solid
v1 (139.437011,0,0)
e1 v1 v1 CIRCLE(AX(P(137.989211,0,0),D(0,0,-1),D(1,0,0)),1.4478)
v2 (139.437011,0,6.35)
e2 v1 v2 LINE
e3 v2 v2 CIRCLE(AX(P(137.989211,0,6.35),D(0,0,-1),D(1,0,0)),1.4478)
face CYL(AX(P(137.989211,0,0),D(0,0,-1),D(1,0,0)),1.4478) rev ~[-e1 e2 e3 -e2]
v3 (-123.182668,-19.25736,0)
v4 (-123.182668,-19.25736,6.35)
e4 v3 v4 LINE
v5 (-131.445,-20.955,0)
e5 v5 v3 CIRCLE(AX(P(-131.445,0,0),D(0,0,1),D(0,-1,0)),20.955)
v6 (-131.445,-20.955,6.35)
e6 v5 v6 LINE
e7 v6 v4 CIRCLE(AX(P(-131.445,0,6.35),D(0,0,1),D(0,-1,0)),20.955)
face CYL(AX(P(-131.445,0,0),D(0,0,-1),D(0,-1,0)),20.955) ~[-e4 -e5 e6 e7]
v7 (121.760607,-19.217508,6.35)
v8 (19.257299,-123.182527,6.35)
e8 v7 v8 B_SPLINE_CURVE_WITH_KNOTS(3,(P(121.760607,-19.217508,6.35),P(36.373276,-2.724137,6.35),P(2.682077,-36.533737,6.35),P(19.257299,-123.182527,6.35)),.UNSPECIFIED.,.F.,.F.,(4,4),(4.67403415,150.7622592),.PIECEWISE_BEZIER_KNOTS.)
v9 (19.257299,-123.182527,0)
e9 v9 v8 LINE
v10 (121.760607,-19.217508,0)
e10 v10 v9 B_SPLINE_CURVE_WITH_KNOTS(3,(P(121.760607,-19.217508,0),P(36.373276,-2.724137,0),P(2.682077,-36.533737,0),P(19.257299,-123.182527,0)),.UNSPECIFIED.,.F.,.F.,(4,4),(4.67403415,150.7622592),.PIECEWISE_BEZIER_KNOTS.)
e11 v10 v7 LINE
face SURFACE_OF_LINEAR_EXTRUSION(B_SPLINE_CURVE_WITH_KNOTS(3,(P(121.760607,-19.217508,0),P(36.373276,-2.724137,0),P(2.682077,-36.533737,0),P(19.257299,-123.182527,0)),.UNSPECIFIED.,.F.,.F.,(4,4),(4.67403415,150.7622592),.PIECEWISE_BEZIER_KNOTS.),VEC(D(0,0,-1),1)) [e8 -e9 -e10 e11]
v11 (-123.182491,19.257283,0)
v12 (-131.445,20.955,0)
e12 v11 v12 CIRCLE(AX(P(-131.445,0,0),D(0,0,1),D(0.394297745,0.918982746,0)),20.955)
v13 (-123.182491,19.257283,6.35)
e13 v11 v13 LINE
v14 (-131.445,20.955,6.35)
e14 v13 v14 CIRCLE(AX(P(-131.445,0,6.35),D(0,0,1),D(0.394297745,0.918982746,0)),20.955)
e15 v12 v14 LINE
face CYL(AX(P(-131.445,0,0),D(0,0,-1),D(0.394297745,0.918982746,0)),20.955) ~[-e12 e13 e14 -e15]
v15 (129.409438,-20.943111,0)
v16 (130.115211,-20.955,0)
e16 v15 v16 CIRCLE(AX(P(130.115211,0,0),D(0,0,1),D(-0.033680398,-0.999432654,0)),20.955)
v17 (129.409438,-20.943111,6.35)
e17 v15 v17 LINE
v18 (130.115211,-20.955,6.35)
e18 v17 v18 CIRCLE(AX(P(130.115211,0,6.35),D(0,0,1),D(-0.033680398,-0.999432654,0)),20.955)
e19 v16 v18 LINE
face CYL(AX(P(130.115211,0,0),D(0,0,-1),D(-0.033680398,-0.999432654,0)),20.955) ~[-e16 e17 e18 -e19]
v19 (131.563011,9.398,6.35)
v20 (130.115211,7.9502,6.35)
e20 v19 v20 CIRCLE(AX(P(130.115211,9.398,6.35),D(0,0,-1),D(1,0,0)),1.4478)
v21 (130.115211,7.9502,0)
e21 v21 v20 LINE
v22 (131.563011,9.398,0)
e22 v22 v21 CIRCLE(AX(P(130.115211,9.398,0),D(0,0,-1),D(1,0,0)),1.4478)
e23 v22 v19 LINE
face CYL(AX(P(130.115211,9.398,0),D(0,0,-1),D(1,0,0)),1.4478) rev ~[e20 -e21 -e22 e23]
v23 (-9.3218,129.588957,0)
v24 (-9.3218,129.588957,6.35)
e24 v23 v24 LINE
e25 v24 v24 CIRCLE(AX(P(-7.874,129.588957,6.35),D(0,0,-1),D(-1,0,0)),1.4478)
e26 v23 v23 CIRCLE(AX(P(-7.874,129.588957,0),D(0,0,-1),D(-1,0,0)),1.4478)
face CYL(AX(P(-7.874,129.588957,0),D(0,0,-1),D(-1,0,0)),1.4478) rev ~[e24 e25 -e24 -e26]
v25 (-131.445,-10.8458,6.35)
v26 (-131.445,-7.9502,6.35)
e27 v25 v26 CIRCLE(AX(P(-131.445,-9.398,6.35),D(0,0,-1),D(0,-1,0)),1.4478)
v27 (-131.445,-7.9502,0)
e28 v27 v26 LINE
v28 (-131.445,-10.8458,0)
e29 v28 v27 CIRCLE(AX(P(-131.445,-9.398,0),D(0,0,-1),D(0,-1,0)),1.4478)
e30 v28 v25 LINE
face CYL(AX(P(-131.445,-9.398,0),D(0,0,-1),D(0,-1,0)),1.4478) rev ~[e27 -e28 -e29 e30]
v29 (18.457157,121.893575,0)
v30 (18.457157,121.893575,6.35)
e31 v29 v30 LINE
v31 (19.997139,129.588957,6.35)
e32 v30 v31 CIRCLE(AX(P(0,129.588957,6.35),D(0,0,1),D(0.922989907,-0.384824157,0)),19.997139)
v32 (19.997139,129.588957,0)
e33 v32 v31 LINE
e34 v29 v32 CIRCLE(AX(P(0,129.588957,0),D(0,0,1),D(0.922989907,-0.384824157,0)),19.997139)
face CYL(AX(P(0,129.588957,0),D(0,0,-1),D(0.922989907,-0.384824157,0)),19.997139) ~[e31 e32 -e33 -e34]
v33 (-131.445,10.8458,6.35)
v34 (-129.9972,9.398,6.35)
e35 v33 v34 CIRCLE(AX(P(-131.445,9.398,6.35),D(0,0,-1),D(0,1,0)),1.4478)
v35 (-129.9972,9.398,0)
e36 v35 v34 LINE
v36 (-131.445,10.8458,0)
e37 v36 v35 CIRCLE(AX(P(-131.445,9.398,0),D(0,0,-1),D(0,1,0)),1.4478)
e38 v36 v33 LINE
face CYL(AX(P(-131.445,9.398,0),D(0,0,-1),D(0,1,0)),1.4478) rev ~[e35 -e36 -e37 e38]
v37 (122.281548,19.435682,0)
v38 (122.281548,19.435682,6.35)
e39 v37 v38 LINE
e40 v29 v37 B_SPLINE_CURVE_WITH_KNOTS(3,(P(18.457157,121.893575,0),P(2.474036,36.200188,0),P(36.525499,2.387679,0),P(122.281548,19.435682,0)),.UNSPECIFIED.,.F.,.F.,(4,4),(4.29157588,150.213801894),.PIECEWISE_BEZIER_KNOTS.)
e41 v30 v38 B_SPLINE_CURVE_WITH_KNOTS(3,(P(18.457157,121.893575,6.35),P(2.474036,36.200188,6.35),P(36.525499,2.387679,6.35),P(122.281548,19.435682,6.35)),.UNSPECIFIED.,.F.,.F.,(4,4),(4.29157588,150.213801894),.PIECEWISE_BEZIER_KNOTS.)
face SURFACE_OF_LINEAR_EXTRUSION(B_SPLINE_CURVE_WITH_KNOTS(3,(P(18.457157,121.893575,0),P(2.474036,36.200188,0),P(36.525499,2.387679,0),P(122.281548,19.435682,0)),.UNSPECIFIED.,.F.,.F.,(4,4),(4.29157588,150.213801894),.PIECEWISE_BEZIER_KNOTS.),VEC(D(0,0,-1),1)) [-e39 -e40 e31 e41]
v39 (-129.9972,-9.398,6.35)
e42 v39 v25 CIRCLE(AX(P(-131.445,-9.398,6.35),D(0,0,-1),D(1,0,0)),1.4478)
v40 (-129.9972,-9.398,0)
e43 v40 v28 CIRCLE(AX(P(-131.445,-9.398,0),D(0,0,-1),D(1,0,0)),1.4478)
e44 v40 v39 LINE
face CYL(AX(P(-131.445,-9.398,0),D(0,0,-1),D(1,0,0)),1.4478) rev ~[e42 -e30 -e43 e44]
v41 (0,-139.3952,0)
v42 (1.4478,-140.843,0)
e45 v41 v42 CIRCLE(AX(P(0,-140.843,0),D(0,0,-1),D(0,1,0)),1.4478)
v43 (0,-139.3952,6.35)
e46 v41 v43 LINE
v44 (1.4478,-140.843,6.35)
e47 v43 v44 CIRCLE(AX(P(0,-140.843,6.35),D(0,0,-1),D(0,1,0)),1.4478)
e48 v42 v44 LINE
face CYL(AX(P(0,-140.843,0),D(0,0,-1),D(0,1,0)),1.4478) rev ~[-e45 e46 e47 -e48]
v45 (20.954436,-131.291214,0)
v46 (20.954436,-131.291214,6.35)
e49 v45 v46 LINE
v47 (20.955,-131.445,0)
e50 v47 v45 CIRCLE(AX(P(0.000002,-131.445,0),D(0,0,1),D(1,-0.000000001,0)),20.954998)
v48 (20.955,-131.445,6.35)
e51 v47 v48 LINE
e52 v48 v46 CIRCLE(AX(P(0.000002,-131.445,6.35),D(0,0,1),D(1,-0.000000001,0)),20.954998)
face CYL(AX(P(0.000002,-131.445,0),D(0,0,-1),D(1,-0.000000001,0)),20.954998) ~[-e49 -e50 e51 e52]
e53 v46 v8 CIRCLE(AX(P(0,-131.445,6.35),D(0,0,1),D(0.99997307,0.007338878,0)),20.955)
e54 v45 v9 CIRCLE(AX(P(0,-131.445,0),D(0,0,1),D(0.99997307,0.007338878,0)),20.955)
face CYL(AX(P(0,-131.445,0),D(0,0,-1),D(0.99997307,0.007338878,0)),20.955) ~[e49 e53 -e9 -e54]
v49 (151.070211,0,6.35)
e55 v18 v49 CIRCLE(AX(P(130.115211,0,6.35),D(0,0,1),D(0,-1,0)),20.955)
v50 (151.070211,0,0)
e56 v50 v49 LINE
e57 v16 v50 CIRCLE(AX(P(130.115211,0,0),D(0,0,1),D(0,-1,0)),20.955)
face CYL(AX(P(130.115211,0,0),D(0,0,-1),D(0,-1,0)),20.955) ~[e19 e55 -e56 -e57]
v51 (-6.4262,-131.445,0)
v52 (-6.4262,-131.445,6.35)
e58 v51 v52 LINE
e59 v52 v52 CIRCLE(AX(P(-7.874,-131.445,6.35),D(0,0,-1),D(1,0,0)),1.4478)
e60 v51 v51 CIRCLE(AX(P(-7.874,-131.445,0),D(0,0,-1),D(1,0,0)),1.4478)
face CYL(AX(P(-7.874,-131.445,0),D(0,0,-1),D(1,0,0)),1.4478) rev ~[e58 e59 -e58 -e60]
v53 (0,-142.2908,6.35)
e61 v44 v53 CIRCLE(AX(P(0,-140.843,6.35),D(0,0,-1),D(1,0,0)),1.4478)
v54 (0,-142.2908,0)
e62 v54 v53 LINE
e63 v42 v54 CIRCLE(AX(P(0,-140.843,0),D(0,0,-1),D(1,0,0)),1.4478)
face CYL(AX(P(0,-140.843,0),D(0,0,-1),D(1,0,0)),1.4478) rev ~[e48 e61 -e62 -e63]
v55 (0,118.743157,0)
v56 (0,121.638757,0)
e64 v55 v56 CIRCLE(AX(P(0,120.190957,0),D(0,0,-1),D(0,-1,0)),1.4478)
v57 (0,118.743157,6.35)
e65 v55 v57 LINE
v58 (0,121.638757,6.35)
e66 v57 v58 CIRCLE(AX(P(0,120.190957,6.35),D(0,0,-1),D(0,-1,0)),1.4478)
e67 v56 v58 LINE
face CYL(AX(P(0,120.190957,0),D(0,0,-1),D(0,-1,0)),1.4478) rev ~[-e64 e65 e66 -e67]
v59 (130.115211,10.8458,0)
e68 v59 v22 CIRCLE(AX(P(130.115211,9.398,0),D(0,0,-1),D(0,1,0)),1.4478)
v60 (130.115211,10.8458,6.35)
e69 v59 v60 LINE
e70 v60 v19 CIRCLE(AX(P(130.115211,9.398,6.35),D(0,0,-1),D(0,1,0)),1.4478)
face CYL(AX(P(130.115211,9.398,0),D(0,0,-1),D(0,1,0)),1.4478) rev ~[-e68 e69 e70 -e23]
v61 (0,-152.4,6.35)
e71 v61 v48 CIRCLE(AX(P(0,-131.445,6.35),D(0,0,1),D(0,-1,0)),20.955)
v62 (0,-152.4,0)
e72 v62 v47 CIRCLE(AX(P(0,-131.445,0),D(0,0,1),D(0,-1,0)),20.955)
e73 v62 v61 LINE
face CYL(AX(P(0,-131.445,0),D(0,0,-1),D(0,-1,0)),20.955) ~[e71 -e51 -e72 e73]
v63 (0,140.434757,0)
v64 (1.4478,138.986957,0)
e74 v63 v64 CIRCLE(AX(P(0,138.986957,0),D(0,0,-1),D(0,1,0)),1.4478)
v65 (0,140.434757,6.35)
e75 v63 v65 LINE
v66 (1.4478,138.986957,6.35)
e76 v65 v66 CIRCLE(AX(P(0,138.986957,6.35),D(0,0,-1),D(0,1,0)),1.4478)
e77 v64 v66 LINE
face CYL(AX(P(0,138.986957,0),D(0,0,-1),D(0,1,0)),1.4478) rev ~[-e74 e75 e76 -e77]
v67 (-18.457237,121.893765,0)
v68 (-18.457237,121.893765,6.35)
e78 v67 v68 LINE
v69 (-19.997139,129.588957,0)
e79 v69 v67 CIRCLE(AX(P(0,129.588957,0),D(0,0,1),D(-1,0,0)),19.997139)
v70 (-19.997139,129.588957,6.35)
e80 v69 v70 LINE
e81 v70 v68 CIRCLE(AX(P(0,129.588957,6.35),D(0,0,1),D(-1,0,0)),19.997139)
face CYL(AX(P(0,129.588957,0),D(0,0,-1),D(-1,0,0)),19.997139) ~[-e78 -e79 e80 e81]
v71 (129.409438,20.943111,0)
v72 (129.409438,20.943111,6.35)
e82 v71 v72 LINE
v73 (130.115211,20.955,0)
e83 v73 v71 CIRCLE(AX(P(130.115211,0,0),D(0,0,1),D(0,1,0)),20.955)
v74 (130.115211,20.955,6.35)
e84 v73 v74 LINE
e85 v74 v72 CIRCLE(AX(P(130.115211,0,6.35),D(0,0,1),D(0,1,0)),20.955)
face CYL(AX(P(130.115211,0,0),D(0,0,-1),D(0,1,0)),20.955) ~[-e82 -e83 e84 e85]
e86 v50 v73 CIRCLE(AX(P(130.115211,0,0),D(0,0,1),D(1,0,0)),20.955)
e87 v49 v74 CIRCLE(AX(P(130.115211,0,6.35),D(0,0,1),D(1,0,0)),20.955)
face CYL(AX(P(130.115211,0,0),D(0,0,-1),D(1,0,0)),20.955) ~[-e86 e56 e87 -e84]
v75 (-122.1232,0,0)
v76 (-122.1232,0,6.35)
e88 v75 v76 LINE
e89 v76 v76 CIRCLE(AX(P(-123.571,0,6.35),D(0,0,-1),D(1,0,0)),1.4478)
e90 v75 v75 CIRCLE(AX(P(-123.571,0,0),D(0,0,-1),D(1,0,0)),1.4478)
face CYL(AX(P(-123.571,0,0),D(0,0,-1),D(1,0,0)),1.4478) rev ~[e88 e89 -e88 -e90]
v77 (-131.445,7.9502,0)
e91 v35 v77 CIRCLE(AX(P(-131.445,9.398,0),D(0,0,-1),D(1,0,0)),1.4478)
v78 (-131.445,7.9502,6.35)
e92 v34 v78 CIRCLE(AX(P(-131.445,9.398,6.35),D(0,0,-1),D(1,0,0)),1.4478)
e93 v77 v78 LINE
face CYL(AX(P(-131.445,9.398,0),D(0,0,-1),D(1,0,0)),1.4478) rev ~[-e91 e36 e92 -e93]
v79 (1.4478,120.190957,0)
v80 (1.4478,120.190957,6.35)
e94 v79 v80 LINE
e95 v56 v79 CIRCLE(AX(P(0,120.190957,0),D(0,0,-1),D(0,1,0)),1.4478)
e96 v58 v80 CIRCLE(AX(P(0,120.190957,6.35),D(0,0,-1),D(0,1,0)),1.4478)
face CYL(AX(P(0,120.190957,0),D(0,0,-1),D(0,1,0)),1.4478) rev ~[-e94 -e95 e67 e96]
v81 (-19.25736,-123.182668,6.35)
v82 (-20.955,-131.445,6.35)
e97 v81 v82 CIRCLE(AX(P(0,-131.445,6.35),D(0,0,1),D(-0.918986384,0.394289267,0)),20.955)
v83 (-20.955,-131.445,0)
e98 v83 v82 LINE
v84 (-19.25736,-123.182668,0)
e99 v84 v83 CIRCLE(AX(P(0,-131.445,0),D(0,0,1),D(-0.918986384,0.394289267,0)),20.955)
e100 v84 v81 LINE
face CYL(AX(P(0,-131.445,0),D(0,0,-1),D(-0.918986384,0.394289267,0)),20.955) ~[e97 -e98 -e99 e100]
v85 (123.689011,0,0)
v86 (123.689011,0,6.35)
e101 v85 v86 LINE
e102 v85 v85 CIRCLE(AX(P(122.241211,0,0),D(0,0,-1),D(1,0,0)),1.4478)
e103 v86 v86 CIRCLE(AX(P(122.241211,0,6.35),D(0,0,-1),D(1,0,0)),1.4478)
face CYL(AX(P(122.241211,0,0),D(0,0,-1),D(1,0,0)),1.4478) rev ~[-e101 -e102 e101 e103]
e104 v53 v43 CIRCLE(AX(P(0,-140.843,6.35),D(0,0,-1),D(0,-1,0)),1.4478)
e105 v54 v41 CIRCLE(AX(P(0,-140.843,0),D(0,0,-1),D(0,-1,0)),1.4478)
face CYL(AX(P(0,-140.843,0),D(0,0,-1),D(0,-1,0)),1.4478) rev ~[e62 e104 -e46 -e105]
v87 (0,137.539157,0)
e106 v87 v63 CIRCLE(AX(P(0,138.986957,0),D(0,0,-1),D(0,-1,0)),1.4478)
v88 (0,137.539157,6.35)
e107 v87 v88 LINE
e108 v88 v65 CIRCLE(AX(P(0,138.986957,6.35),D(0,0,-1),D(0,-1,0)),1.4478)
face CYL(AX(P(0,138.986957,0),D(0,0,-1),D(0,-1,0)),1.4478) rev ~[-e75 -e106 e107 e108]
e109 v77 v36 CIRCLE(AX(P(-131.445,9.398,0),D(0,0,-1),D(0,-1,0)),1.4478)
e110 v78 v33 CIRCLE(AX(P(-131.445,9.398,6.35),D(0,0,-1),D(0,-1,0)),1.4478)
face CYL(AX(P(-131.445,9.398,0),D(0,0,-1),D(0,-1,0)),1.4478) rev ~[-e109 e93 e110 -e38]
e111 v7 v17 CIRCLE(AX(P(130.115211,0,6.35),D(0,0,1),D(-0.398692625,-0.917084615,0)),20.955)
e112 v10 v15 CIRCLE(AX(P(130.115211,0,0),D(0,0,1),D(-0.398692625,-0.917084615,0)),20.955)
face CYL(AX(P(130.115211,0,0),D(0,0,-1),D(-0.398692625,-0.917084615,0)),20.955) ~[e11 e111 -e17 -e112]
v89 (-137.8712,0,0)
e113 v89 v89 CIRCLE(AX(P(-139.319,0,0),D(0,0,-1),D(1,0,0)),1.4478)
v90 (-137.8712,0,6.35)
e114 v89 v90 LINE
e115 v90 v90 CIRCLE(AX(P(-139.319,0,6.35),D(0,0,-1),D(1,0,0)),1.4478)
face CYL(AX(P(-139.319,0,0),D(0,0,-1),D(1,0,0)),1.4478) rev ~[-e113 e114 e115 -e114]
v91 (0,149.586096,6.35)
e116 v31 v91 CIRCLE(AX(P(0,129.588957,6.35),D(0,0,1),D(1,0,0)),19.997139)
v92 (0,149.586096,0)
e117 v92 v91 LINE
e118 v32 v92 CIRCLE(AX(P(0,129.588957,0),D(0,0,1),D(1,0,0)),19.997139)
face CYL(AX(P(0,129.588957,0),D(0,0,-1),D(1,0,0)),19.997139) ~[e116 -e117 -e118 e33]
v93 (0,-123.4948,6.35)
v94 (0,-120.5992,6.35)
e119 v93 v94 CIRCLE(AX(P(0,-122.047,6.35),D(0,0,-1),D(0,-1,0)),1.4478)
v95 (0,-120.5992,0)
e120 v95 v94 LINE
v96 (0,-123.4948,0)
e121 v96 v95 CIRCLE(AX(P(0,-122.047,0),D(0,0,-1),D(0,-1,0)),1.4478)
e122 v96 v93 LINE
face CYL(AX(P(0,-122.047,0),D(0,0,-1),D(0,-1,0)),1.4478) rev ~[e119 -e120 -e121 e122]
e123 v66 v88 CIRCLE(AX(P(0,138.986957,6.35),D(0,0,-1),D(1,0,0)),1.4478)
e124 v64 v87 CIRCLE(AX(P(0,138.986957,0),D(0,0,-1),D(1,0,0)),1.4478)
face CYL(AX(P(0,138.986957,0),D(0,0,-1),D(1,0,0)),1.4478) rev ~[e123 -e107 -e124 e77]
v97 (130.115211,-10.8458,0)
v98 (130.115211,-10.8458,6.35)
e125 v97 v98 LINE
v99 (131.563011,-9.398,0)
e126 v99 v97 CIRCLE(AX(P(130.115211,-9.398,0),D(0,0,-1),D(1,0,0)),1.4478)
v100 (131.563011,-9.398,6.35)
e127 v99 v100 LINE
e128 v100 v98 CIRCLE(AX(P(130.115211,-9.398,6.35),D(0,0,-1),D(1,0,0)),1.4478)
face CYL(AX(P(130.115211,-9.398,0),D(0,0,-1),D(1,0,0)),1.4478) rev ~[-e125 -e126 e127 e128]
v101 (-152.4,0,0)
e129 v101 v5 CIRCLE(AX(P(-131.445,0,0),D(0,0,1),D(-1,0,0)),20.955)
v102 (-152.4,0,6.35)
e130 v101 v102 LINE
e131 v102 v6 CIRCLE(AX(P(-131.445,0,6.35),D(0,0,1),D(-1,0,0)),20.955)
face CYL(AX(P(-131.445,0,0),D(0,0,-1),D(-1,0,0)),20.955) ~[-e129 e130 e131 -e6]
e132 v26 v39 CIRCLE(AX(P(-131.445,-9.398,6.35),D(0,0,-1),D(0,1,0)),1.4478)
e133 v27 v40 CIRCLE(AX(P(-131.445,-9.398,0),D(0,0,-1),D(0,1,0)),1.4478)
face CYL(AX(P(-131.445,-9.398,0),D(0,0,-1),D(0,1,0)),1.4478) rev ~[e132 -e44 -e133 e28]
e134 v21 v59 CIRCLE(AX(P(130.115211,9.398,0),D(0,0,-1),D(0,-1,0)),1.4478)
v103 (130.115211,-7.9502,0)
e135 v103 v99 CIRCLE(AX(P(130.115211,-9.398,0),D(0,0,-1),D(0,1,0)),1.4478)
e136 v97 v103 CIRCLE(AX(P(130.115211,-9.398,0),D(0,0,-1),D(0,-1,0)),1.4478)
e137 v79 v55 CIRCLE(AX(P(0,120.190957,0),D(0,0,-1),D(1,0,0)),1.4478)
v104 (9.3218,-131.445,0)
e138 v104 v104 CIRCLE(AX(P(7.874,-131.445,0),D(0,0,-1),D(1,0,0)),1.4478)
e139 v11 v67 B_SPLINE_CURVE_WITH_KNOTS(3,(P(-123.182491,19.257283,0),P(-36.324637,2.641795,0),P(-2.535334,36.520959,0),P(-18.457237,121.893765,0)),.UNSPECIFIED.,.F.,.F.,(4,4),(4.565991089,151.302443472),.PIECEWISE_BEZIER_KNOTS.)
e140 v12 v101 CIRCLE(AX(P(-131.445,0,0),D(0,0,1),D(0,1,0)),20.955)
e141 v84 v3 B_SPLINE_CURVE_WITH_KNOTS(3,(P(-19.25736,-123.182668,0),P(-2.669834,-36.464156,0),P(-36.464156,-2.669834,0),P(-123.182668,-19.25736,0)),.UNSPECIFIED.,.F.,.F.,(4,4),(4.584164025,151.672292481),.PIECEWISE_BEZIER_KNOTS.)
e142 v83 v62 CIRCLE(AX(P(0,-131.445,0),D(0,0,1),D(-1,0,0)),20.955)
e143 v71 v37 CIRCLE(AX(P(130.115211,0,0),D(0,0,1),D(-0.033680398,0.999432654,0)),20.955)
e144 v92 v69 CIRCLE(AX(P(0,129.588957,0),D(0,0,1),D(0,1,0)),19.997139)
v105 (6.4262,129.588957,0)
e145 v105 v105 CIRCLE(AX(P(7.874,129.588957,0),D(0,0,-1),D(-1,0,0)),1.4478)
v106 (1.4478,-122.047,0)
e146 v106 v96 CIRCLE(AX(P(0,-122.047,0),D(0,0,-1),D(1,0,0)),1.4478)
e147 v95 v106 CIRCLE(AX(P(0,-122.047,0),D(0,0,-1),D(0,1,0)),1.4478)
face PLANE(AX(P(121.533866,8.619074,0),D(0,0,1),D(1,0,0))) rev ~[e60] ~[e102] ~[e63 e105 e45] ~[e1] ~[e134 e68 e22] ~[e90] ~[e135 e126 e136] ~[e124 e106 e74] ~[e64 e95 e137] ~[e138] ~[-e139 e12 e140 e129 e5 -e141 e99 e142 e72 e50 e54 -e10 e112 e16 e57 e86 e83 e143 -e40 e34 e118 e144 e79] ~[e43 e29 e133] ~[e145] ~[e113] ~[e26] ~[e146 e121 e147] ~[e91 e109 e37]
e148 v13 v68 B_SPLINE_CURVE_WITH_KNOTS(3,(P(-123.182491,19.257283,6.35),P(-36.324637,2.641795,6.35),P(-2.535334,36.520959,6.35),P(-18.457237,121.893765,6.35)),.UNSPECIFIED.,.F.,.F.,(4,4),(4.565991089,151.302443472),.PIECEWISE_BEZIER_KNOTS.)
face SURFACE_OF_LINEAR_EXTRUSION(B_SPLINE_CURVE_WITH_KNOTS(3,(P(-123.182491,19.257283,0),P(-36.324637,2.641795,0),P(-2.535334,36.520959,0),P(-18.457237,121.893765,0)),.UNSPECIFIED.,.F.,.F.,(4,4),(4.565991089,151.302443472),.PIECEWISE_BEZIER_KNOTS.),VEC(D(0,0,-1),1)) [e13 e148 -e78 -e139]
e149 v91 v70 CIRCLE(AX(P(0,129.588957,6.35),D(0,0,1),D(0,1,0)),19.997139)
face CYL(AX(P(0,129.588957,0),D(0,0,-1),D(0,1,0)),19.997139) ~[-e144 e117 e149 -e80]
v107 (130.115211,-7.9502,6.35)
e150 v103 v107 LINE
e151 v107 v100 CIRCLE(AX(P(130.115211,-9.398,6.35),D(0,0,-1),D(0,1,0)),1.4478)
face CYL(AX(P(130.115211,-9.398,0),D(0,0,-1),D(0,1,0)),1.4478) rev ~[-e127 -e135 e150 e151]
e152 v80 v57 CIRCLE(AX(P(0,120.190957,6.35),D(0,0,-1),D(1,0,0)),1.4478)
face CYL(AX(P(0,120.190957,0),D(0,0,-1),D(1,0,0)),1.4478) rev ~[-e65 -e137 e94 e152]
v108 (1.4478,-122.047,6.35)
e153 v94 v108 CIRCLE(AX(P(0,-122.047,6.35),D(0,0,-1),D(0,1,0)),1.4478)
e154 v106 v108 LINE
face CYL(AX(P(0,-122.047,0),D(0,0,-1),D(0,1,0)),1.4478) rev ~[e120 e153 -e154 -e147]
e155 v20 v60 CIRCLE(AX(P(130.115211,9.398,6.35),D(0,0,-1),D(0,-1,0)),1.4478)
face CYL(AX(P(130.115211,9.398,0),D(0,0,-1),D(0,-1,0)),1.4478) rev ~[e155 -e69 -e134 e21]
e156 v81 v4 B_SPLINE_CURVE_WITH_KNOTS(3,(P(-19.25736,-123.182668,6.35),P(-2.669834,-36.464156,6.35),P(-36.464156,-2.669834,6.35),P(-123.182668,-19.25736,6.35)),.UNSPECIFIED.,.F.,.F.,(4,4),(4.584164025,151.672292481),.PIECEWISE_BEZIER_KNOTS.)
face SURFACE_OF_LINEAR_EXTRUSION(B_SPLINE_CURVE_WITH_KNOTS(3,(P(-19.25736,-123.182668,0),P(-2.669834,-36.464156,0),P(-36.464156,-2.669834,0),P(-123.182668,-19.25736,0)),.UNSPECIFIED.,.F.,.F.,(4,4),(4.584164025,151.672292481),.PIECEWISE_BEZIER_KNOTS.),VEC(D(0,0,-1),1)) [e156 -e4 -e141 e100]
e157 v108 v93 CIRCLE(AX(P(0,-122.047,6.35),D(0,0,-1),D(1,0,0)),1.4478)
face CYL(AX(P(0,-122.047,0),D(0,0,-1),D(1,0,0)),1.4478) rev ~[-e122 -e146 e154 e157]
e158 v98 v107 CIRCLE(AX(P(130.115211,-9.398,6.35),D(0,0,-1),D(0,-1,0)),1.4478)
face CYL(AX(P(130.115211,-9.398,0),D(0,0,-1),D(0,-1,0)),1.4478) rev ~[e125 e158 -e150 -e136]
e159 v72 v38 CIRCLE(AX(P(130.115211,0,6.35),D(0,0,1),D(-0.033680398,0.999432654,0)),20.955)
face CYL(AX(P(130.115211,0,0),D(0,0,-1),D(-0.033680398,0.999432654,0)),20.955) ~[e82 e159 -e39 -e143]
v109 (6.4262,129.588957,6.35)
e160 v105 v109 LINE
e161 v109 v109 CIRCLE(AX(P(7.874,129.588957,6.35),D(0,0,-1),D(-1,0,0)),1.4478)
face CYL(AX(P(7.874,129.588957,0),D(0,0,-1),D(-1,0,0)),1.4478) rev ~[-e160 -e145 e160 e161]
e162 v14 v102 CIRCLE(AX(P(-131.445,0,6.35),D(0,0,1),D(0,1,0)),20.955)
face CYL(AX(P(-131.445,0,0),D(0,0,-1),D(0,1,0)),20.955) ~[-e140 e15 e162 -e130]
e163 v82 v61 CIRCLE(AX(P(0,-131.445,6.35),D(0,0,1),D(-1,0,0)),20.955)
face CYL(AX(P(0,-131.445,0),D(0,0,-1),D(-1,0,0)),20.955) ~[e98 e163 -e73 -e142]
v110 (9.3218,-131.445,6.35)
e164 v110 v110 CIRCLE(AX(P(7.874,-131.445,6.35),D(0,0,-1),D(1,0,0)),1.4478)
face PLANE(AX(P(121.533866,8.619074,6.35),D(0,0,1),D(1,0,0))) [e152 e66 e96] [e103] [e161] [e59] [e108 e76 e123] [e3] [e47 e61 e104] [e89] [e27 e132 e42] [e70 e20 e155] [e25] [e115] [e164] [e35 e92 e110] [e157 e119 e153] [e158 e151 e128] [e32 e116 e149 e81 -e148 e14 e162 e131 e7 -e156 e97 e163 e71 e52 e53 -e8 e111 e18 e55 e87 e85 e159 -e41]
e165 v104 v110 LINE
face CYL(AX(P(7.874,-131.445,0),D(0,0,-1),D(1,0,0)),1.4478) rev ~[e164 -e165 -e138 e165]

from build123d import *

# Parameters (mm, degrees)
F1_DEPTH = 6.35


with BuildPart() as f1:
    # F0 (on Top) → F1 (new body)
    with BuildSketch(Plane.XY):
        with BuildLine():
            ThreePointArc((120.79341101, 0), (122.24121101, 1.4478), (123.68901101, 0))
            Line((123.68901101, 0), (130.11521101, 0))
            Line((130.11521101, 0), (130.11521101, 7.9502))
            ThreePointArc((130.11521101, 7.9502), (128.66741101, 9.398), (130.11521101, 10.8458))
            Line((130.11521101, 10.8458), (130.11521101, 20.955))
            Line((130.11521101, 20.955), (129.4094382775, 20.9431112744))
            add(Edge.make_bspline(
                [(122.2815481936, 19.4356824393), (124.619083935, 19.9003764029), (126.9950360223, 20.4028595696), (129.4094382775, 20.9431112744)],
                knots=[150.2138018938, 150.2138018938, 150.2138018938, 150.2138018938, 154.1913454475, 154.1913454475, 154.1913454475, 154.1913454475], degree=3))
            ThreePointArc((122.2815481936, 19.4356824393), (112.7476200815, 11.7251358347), (109.16021101, 0))
            Line((109.16021101, 0), (120.79341101, 0))
        make_face()
        with BuildLine():
            Line((130.11521101, 0), (123.68901101, 0))
            ThreePointArc((123.68901101, 0), (122.24121101, -1.4478), (120.79341101, 0))
            Line((120.79341101, 0), (109.16021101, 0))
            ThreePointArc((109.16021101, 0), (112.5911882011, -11.4900239162), (121.7606070581, -19.2175081061))
            add(Edge.make_bspline(
                [(130.11521101, -20.955), (127.2773928384, -20.3243985565), (124.4925404628, -19.7452069036), (121.7606070581, -19.2175081061)],
                knots=[0, 0, 0, 0, 4.67403415, 4.67403415, 4.67403415, 4.67403415], degree=3))
            Line((130.11521101, -20.955), (130.11521101, -10.8458))
            ThreePointArc((130.11521101, -10.8458), (128.66741101, -9.398), (130.11521101, -7.9502))
            Line((130.11521101, -7.9502), (130.11521101, 0))
        make_face()
        with BuildLine():
            Line((130.11521101, 7.9502), (130.11521101, 0))
            Line((130.11521101, 0), (136.54141101, 0))
            ThreePointArc((136.54141101, 0), (137.98921101, 1.4478), (139.43701101, 0))
            Line((139.43701101, 0), (151.07021101, 0))
            ThreePointArc((151.07021101, 0), (144.9326336097, 14.8174225998), (130.11521101, 20.955))
            Line((130.11521101, 20.955), (130.11521101, 10.8458))
            ThreePointArc((130.11521101, 10.8458), (131.1389602078, 10.4217491978), (131.56301101, 9.398))
            ThreePointArc((131.56301101, 9.398), (131.1389602078, 8.3742508022), (130.11521101, 7.9502))
        make_face()
        with BuildLine():
            Line((136.54141101, 0), (130.11521101, 0))
            Line((130.11521101, 0), (130.11521101, -7.9502))
            ThreePointArc((130.11521101, -7.9502), (131.1389602078, -8.3742508022), (131.56301101, -9.398))
            ThreePointArc((131.56301101, -9.398), (131.1389602078, -10.4217491978), (130.11521101, -10.8458))
            Line((130.11521101, -10.8458), (130.11521101, -20.955))
            ThreePointArc((130.11521101, -20.955), (144.9326336097, -14.8174225998), (151.07021101, 0))
            Line((151.07021101, 0), (139.43701101, 0))
            ThreePointArc((139.43701101, 0), (137.98921101, -1.4478), (136.54141101, 0))
        make_face()
        with BuildLine():
            ThreePointArc((121.7606070581, -19.2175081061), (112.5911882011, -11.4900239162), (109.16021101, 0))
            ThreePointArc((109.16021101, 0), (112.7476200815, 11.7251358347), (122.2815481936, 19.4356824393))
            add(Edge.make_bspline(
                [(18.4571573957, 121.8935747296), (2.4740359892, 36.2001880799), (36.5254994756, 2.3876786479), (122.2815481936, 19.4356824393)],
                knots=[4.2915758799, 4.2915758799, 4.2915758799, 4.2915758799, 150.2138018938, 150.2138018938, 150.2138018938, 150.2138018938], degree=3))
            ThreePointArc((18.4571573957, 121.8935747296), (11.0905351489, 112.9490771865), (0, 109.5918179271))
            ThreePointArc((0, 109.5918179271), (-11.0906209119, 112.9491343482), (-18.4572367199, 121.8937649891))
            add(Edge.make_bspline(
                [(-123.1824907543, 19.2572834524), (-36.3246371653, 2.6417946871), (-2.5353340794, 36.5209589531), (-18.4572367199, 121.8937649891)],
                knots=[4.5659910886, 4.5659910886, 4.5659910886, 4.5659910886, 151.3024434717, 151.3024434717, 151.3024434717, 151.3024434717], degree=3))
            ThreePointArc((-123.1824907543, 19.2572834524), (-113.9485302669, 11.5319370393), (-110.49, 0))
            ThreePointArc((-110.49, 0), (-113.94858346, -11.5320177445), (-123.1826684094, -19.2573596759))
            add(Edge.make_bspline(
                [(-19.2573596759, -123.1826684094), (-2.6698341407, -36.4641564975), (-36.4641564975, -2.6698341407), (-123.1826684094, -19.2573596759)],
                knots=[4.5841640255, 4.5841640255, 4.5841640255, 4.5841640255, 151.6722924811, 151.6722924811, 151.6722924811, 151.6722924811], degree=3))
            ThreePointArc((-19.2573596759, -123.1826684094), (-19.1477552143, -122.9317459069), (-19.0348814104, -122.6822769818))
            ThreePointArc((-19.0348814104, -122.6822769818), (-11.3024148781, -113.7993930985), (0, -110.49))
            ThreePointArc((0, -110.49), (11.531953589, -113.9485411748), (19.2572990832, -123.1825271848))
            add(Edge.make_bspline(
                [(121.7606070581, -19.2175081061), (36.373275849, -2.7241368086), (2.682076988, -36.5337366576), (19.2572990832, -123.1825271848)],
                knots=[4.67403415, 4.67403415, 4.67403415, 4.67403415, 150.7622591999, 150.7622591999, 150.7622591999, 150.7622591999], degree=3))
        make_face()
        with BuildLine():
            ThreePointArc((129.4094382775, 20.9431112744), (125.7794786271, 20.5015474953), (122.2815481936, 19.4356824393))
            add(Edge.make_bspline(
                [(122.2815481936, 19.4356824393), (124.619083935, 19.9003764029), (126.9950360223, 20.4028595696), (129.4094382775, 20.9431112744)],
                knots=[150.2138018938, 150.2138018938, 150.2138018938, 150.2138018938, 154.1913454475, 154.1913454475, 154.1913454475, 154.1913454475], degree=3))
        make_face()
        with BuildLine():
            add(Edge.make_bspline(
                [(130.11521101, -20.955), (127.2773928384, -20.3243985565), (124.4925404628, -19.7452069036), (121.7606070581, -19.2175081061)],
                knots=[0, 0, 0, 0, 4.67403415, 4.67403415, 4.67403415, 4.67403415], degree=3))
            ThreePointArc((121.7606070581, -19.2175081061), (125.5035916644, -20.4412571045), (129.4094382775, -20.9431112744))
            Line((129.4094382775, -20.9431112744), (130.11521101, -20.955))
        make_face()
        with BuildLine():
            ThreePointArc((130.11521101, 20.955), (129.762274581, 20.9520276078), (129.4094382775, 20.9431112744))
            Line((129.4094382775, 20.9431112744), (130.11521101, 20.955))
        make_face()
        with BuildLine():
            add(Edge.make_bspline(
                [(19.9971389232, 129.5889568502), (19.4405626846, 126.9789378392), (18.9272213482, 124.4138191177), (18.4571573957, 121.8935747296)],
                knots=[0, 0, 0, 0, 4.2915758799, 4.2915758799, 4.2915758799, 4.2915758799], degree=3))
            ThreePointArc((18.4571573957, 121.8935747296), (19.6083643591, 125.6649777127), (19.9971389232, 129.5889568502))
        make_face()
        with BuildLine():
            ThreePointArc((0, 109.5918179271), (11.0905351489, 112.9490771865), (18.4571573957, 121.8935747296))
            add(Edge.make_bspline(
                [(19.9971389232, 129.5889568502), (19.4405626846, 126.9789378392), (18.9272213482, 124.4138191177), (18.4571573957, 121.8935747296)],
                knots=[0, 0, 0, 0, 4.2915758799, 4.2915758799, 4.2915758799, 4.2915758799], degree=3))
            Line((19.9971389232, 129.5889568502), (9.3218, 129.5889568502))
            ThreePointArc((9.3218, 129.5889568502), (7.874, 128.1411568502), (6.4262, 129.5889568502))
            Line((6.4262, 129.5889568502), (0, 129.5889568502))
            Line((0, 129.5889568502), (0, 121.6387568502))
            ThreePointArc((0, 121.6387568502), (1.0237491978, 121.214706048), (1.4478, 120.1909568502))
            ThreePointArc((1.4478, 120.1909568502), (1.0237491978, 119.1672076524), (0, 118.7431568502))
            Line((0, 118.7431568502), (0, 109.5918179271))
        make_face()
        with BuildLine():
            Line((130.11521101, -20.955), (129.4094382775, -20.9431112744))
            ThreePointArc((129.4094382775, -20.9431112744), (129.762274581, -20.9520276078), (130.11521101, -20.955))
        make_face()
        with BuildLine():
            add(Edge.make_bspline(
                [(19.2572990832, -123.1825271848), (19.7743085213, -125.8852506988), (20.3402232894, -128.6393826482), (20.955, -131.445)],
                knots=[150.7622591999, 150.7622591999, 150.7622591999, 150.7622591999, 155.3190000217, 155.3190000217, 155.3190000217, 155.3190000217], degree=3))
            ThreePointArc((19.2572990832, -123.1825271848), (11.531953589, -113.9485411748), (0, -110.49))
            Line((0, -110.49), (0, -120.5992))
            ThreePointArc((0, -120.5992), (1.0237491978, -121.0232508022), (1.4478, -122.047))
            ThreePointArc((1.4478, -122.047), (1.0237491978, -123.0707491978), (0, -123.4948))
            Line((0, -123.4948), (0, -131.445))
            Line((0, -131.445), (6.4262, -131.445))
            ThreePointArc((6.4262, -131.445), (7.874, -129.9972), (9.3218, -131.445))
            Line((9.3218, -131.445), (20.955, -131.445))
        make_face()
        with BuildLine():
            ThreePointArc((20.9544356834, -131.2912138119), (20.5105729549, -127.1521661967), (19.2572990832, -123.1825271848))
            add(Edge.make_bspline(
                [(19.2572990832, -123.1825271848), (19.7743085213, -125.8852506988), (20.3402232894, -128.6393826482), (20.955, -131.445)],
                knots=[150.7622591999, 150.7622591999, 150.7622591999, 150.7622591999, 155.3190000217, 155.3190000217, 155.3190000217, 155.3190000217], degree=3))
            Line((20.955, -131.445), (20.9544356834, -131.2912138119))
        make_face()
        with BuildLine():
            ThreePointArc((-18.4572367199, 121.8937649891), (-11.0906209119, 112.9491343482), (0, 109.5918179271))
            Line((0, 109.5918179271), (0, 118.7431568502))
            ThreePointArc((0, 118.7431568502), (-1.4478, 120.1909568502), (0, 121.6387568502))
            Line((0, 121.6387568502), (0, 129.5889568502))
            Line((0, 129.5889568502), (-6.4262, 129.5889568502))
            ThreePointArc((-6.4262, 129.5889568502), (-7.874, 128.1411568502), (-9.3218, 129.5889568502))
            Line((-9.3218, 129.5889568502), (-19.9971389232, 129.5889568502))
            add(Edge.make_bspline(
                [(-18.4572367199, 121.8937649891), (-18.927247149, 124.4139480419), (-19.4405766715, 126.9790034296), (-19.9971389232, 129.5889568502)],
                knots=[151.3024434717, 151.3024434717, 151.3024434717, 151.3024434717, 155.6340654212, 155.6340654212, 155.6340654212, 155.6340654212], degree=3))
        make_face()
        with BuildLine():
            Line((9.3218, 129.5889568502), (19.9971389232, 129.5889568502))
            ThreePointArc((19.9971389232, 129.5889568502), (14.1401125369, 143.7290693871), (0, 149.5860957734))
            Line((0, 149.5860957734), (0, 140.4347568502))
            ThreePointArc((0, 140.4347568502), (1.0237491978, 140.010706048), (1.4478, 138.9869568502))
            ThreePointArc((1.4478, 138.9869568502), (1.0237491978, 137.9632076524), (0, 137.5391568502))
            Line((0, 137.5391568502), (0, 129.5889568502))
            Line((0, 129.5889568502), (6.4262, 129.5889568502))
            ThreePointArc((6.4262, 129.5889568502), (7.874, 131.0367568502), (9.3218, 129.5889568502))
        make_face()
        with BuildLine():
            ThreePointArc((20.955, -131.445), (20.9548589204, -131.3681063883), (20.9544356834, -131.2912138119))
            Line((20.9544356834, -131.2912138119), (20.955, -131.445))
        make_face()
        with BuildLine():
            Line((0, -120.5992), (0, -110.49))
            ThreePointArc((0, -110.49), (-11.3024148781, -113.7993930985), (-19.0348814104, -122.6822769818))
            Line((-19.0348814104, -122.6822769818), (-20.955, -131.445))
            Line((-20.955, -131.445), (-9.3218, -131.445))
            ThreePointArc((-9.3218, -131.445), (-7.874, -129.9972), (-6.4262, -131.445))
            Line((-6.4262, -131.445), (0, -131.445))
            Line((0, -131.445), (0, -123.4948))
            ThreePointArc((0, -123.4948), (-1.4478, -122.047), (0, -120.5992))
        make_face()
        with BuildLine():
            ThreePointArc((0, -152.4), (14.8174225998, -146.2624225998), (20.955, -131.445))
            Line((20.955, -131.445), (9.3218, -131.445))
            ThreePointArc((9.3218, -131.445), (7.874, -132.8928), (6.4262, -131.445))
            Line((6.4262, -131.445), (0, -131.445))
            Line((0, -131.445), (0, -139.3952))
            ThreePointArc((0, -139.3952), (1.0237491978, -139.8192508022), (1.4478, -140.843))
            ThreePointArc((1.4478, -140.843), (1.0237491978, -141.8667491978), (0, -142.2908))
            Line((0, -142.2908), (0, -152.4))
        make_face()
        with BuildLine():
            ThreePointArc((-19.9971389232, 129.5889568502), (-19.6083845833, 125.6650787757), (-18.4572367199, 121.8937649891))
            add(Edge.make_bspline(
                [(-18.4572367199, 121.8937649891), (-18.927247149, 124.4139480419), (-19.4405766715, 126.9790034296), (-19.9971389232, 129.5889568502)],
                knots=[151.3024434717, 151.3024434717, 151.3024434717, 151.3024434717, 155.6340654212, 155.6340654212, 155.6340654212, 155.6340654212], degree=3))
        make_face()
        with BuildLine():
            Line((0, 140.4347568502), (0, 149.5860957734))
            ThreePointArc((0, 149.5860957734), (-14.1401125369, 143.7290693871), (-19.9971389232, 129.5889568502))
            Line((-19.9971389232, 129.5889568502), (-9.3218, 129.5889568502))
            ThreePointArc((-9.3218, 129.5889568502), (-7.874, 131.0367568502), (-6.4262, 129.5889568502))
            Line((-6.4262, 129.5889568502), (0, 129.5889568502))
            Line((0, 129.5889568502), (0, 137.5391568502))
            ThreePointArc((0, 137.5391568502), (-1.4478, 138.9869568502), (0, 140.4347568502))
        make_face()
        with BuildLine():
            Line((-20.955, -131.445), (-19.0348814104, -122.6822769818))
            ThreePointArc((-19.0348814104, -122.6822769818), (-19.1477552143, -122.9317459069), (-19.2573596759, -123.1826684094))
            add(Edge.make_bspline(
                [(-20.955, -131.445), (-20.3402339974, -128.6394315152), (-19.774328235, -125.8853466393), (-19.2573596759, -123.1826684094)],
                knots=[0, 0, 0, 0, 4.5841640255, 4.5841640255, 4.5841640255, 4.5841640255], degree=3))
        make_face()
        with BuildLine():
            ThreePointArc((-20.955, -131.445), (-14.8174225998, -146.2624225998), (0, -152.4))
            Line((0, -152.4), (0, -142.2908))
            ThreePointArc((0, -142.2908), (-1.4478, -140.843), (0, -139.3952))
            Line((0, -139.3952), (0, -131.445))
            Line((0, -131.445), (-6.4262, -131.445))
            ThreePointArc((-6.4262, -131.445), (-7.874, -132.8928), (-9.3218, -131.445))
            Line((-9.3218, -131.445), (-20.955, -131.445))
        make_face()
        with BuildLine():
            add(Edge.make_bspline(
                [(-131.445, 20.955), (-128.6393784119, 20.3402223612), (-125.8852423816, 19.7743068123), (-123.1824907543, 19.2572834524)],
                knots=[0, 0, 0, 0, 4.5659910886, 4.5659910886, 4.5659910886, 4.5659910886], degree=3))
            ThreePointArc((-123.1824907543, 19.2572834524), (-127.2274384856, 20.5261832758), (-131.445, 20.955))
        make_face()
        with BuildLine():
            ThreePointArc((-110.49, 0), (-113.9485302669, 11.5319370393), (-123.1824907543, 19.2572834524))
            add(Edge.make_bspline(
                [(-131.445, 20.955), (-128.6393784119, 20.3402223612), (-125.8852423816, 19.7743068123), (-123.1824907543, 19.2572834524)],
                knots=[0, 0, 0, 0, 4.5659910886, 4.5659910886, 4.5659910886, 4.5659910886], degree=3))
            Line((-131.445, 20.955), (-131.445, 10.8458))
            ThreePointArc((-131.445, 10.8458), (-130.4212508022, 10.4217491978), (-129.9972, 9.398))
            ThreePointArc((-129.9972, 9.398), (-130.4212508022, 8.3742508022), (-131.445, 7.9502))
            Line((-131.445, 7.9502), (-131.445, 0))
            Line((-131.445, 0), (-125.0188, 0))
            ThreePointArc((-125.0188, 0), (-123.571, 1.4478), (-122.1232, 0))
            Line((-122.1232, 0), (-110.49, 0))
        make_face()
        with BuildLine():
            add(Edge.make_bspline(
                [(-20.955, -131.445), (-20.3402339974, -128.6394315152), (-19.774328235, -125.8853466393), (-19.2573596759, -123.1826684094)],
                knots=[0, 0, 0, 0, 4.5841640255, 4.5841640255, 4.5841640255, 4.5841640255], degree=3))
            ThreePointArc((-19.2573596759, -123.1826684094), (-20.5262027298, -127.227533166), (-20.955, -131.445))
        make_face()
        with BuildLine():
            ThreePointArc((-123.1826684094, -19.2573596759), (-113.94858346, -11.5320177445), (-110.49, 0))
            Line((-110.49, 0), (-122.1232, 0))
            ThreePointArc((-122.1232, 0), (-123.571, -1.4478), (-125.0188, 0))
            Line((-125.0188, 0), (-131.445, 0))
            Line((-131.445, 0), (-131.445, -7.9502))
            ThreePointArc((-131.445, -7.9502), (-130.4212508022, -8.3742508022), (-129.9972, -9.398))
            ThreePointArc((-129.9972, -9.398), (-130.4212508022, -10.4217491978), (-131.445, -10.8458))
            Line((-131.445, -10.8458), (-131.445, -20.955))
            add(Edge.make_bspline(
                [(-123.1826684094, -19.2573596759), (-125.8853466393, -19.774328235), (-128.6394315152, -20.3402339974), (-131.445, -20.955)],
                knots=[151.6722924811, 151.6722924811, 151.6722924811, 151.6722924811, 156.2564565066, 156.2564565066, 156.2564565066, 156.2564565066], degree=3))
        make_face()
        with BuildLine():
            Line((-131.445, 10.8458), (-131.445, 20.955))
            ThreePointArc((-131.445, 20.955), (-146.2624225998, 14.8174225998), (-152.4, 0))
            Line((-152.4, 0), (-140.7668, 0))
            ThreePointArc((-140.7668, 0), (-139.319, 1.4478), (-137.8712, 0))
            Line((-137.8712, 0), (-131.445, 0))
            Line((-131.445, 0), (-131.445, 7.9502))
            ThreePointArc((-131.445, 7.9502), (-132.8928, 9.398), (-131.445, 10.8458))
        make_face()
        with BuildLine():
            ThreePointArc((-131.445, -20.955), (-127.227533166, -20.5262027298), (-123.1826684094, -19.2573596759))
            add(Edge.make_bspline(
                [(-123.1826684094, -19.2573596759), (-125.8853466393, -19.774328235), (-128.6394315152, -20.3402339974), (-131.445, -20.955)],
                knots=[151.6722924811, 151.6722924811, 151.6722924811, 151.6722924811, 156.2564565066, 156.2564565066, 156.2564565066, 156.2564565066], degree=3))
        make_face()
        with BuildLine():
            Line((-140.7668, 0), (-152.4, 0))
            ThreePointArc((-152.4, 0), (-146.2624225998, -14.8174225998), (-131.445, -20.955))
            Line((-131.445, -20.955), (-131.445, -10.8458))
            ThreePointArc((-131.445, -10.8458), (-132.8928, -9.398), (-131.445, -7.9502))
            Line((-131.445, -7.9502), (-131.445, 0))
            Line((-131.445, 0), (-137.8712, 0))
            ThreePointArc((-137.8712, 0), (-139.319, -1.4478), (-140.7668, 0))
        make_face()
    extrude(amount=F1_DEPTH)


solid = f1.part
